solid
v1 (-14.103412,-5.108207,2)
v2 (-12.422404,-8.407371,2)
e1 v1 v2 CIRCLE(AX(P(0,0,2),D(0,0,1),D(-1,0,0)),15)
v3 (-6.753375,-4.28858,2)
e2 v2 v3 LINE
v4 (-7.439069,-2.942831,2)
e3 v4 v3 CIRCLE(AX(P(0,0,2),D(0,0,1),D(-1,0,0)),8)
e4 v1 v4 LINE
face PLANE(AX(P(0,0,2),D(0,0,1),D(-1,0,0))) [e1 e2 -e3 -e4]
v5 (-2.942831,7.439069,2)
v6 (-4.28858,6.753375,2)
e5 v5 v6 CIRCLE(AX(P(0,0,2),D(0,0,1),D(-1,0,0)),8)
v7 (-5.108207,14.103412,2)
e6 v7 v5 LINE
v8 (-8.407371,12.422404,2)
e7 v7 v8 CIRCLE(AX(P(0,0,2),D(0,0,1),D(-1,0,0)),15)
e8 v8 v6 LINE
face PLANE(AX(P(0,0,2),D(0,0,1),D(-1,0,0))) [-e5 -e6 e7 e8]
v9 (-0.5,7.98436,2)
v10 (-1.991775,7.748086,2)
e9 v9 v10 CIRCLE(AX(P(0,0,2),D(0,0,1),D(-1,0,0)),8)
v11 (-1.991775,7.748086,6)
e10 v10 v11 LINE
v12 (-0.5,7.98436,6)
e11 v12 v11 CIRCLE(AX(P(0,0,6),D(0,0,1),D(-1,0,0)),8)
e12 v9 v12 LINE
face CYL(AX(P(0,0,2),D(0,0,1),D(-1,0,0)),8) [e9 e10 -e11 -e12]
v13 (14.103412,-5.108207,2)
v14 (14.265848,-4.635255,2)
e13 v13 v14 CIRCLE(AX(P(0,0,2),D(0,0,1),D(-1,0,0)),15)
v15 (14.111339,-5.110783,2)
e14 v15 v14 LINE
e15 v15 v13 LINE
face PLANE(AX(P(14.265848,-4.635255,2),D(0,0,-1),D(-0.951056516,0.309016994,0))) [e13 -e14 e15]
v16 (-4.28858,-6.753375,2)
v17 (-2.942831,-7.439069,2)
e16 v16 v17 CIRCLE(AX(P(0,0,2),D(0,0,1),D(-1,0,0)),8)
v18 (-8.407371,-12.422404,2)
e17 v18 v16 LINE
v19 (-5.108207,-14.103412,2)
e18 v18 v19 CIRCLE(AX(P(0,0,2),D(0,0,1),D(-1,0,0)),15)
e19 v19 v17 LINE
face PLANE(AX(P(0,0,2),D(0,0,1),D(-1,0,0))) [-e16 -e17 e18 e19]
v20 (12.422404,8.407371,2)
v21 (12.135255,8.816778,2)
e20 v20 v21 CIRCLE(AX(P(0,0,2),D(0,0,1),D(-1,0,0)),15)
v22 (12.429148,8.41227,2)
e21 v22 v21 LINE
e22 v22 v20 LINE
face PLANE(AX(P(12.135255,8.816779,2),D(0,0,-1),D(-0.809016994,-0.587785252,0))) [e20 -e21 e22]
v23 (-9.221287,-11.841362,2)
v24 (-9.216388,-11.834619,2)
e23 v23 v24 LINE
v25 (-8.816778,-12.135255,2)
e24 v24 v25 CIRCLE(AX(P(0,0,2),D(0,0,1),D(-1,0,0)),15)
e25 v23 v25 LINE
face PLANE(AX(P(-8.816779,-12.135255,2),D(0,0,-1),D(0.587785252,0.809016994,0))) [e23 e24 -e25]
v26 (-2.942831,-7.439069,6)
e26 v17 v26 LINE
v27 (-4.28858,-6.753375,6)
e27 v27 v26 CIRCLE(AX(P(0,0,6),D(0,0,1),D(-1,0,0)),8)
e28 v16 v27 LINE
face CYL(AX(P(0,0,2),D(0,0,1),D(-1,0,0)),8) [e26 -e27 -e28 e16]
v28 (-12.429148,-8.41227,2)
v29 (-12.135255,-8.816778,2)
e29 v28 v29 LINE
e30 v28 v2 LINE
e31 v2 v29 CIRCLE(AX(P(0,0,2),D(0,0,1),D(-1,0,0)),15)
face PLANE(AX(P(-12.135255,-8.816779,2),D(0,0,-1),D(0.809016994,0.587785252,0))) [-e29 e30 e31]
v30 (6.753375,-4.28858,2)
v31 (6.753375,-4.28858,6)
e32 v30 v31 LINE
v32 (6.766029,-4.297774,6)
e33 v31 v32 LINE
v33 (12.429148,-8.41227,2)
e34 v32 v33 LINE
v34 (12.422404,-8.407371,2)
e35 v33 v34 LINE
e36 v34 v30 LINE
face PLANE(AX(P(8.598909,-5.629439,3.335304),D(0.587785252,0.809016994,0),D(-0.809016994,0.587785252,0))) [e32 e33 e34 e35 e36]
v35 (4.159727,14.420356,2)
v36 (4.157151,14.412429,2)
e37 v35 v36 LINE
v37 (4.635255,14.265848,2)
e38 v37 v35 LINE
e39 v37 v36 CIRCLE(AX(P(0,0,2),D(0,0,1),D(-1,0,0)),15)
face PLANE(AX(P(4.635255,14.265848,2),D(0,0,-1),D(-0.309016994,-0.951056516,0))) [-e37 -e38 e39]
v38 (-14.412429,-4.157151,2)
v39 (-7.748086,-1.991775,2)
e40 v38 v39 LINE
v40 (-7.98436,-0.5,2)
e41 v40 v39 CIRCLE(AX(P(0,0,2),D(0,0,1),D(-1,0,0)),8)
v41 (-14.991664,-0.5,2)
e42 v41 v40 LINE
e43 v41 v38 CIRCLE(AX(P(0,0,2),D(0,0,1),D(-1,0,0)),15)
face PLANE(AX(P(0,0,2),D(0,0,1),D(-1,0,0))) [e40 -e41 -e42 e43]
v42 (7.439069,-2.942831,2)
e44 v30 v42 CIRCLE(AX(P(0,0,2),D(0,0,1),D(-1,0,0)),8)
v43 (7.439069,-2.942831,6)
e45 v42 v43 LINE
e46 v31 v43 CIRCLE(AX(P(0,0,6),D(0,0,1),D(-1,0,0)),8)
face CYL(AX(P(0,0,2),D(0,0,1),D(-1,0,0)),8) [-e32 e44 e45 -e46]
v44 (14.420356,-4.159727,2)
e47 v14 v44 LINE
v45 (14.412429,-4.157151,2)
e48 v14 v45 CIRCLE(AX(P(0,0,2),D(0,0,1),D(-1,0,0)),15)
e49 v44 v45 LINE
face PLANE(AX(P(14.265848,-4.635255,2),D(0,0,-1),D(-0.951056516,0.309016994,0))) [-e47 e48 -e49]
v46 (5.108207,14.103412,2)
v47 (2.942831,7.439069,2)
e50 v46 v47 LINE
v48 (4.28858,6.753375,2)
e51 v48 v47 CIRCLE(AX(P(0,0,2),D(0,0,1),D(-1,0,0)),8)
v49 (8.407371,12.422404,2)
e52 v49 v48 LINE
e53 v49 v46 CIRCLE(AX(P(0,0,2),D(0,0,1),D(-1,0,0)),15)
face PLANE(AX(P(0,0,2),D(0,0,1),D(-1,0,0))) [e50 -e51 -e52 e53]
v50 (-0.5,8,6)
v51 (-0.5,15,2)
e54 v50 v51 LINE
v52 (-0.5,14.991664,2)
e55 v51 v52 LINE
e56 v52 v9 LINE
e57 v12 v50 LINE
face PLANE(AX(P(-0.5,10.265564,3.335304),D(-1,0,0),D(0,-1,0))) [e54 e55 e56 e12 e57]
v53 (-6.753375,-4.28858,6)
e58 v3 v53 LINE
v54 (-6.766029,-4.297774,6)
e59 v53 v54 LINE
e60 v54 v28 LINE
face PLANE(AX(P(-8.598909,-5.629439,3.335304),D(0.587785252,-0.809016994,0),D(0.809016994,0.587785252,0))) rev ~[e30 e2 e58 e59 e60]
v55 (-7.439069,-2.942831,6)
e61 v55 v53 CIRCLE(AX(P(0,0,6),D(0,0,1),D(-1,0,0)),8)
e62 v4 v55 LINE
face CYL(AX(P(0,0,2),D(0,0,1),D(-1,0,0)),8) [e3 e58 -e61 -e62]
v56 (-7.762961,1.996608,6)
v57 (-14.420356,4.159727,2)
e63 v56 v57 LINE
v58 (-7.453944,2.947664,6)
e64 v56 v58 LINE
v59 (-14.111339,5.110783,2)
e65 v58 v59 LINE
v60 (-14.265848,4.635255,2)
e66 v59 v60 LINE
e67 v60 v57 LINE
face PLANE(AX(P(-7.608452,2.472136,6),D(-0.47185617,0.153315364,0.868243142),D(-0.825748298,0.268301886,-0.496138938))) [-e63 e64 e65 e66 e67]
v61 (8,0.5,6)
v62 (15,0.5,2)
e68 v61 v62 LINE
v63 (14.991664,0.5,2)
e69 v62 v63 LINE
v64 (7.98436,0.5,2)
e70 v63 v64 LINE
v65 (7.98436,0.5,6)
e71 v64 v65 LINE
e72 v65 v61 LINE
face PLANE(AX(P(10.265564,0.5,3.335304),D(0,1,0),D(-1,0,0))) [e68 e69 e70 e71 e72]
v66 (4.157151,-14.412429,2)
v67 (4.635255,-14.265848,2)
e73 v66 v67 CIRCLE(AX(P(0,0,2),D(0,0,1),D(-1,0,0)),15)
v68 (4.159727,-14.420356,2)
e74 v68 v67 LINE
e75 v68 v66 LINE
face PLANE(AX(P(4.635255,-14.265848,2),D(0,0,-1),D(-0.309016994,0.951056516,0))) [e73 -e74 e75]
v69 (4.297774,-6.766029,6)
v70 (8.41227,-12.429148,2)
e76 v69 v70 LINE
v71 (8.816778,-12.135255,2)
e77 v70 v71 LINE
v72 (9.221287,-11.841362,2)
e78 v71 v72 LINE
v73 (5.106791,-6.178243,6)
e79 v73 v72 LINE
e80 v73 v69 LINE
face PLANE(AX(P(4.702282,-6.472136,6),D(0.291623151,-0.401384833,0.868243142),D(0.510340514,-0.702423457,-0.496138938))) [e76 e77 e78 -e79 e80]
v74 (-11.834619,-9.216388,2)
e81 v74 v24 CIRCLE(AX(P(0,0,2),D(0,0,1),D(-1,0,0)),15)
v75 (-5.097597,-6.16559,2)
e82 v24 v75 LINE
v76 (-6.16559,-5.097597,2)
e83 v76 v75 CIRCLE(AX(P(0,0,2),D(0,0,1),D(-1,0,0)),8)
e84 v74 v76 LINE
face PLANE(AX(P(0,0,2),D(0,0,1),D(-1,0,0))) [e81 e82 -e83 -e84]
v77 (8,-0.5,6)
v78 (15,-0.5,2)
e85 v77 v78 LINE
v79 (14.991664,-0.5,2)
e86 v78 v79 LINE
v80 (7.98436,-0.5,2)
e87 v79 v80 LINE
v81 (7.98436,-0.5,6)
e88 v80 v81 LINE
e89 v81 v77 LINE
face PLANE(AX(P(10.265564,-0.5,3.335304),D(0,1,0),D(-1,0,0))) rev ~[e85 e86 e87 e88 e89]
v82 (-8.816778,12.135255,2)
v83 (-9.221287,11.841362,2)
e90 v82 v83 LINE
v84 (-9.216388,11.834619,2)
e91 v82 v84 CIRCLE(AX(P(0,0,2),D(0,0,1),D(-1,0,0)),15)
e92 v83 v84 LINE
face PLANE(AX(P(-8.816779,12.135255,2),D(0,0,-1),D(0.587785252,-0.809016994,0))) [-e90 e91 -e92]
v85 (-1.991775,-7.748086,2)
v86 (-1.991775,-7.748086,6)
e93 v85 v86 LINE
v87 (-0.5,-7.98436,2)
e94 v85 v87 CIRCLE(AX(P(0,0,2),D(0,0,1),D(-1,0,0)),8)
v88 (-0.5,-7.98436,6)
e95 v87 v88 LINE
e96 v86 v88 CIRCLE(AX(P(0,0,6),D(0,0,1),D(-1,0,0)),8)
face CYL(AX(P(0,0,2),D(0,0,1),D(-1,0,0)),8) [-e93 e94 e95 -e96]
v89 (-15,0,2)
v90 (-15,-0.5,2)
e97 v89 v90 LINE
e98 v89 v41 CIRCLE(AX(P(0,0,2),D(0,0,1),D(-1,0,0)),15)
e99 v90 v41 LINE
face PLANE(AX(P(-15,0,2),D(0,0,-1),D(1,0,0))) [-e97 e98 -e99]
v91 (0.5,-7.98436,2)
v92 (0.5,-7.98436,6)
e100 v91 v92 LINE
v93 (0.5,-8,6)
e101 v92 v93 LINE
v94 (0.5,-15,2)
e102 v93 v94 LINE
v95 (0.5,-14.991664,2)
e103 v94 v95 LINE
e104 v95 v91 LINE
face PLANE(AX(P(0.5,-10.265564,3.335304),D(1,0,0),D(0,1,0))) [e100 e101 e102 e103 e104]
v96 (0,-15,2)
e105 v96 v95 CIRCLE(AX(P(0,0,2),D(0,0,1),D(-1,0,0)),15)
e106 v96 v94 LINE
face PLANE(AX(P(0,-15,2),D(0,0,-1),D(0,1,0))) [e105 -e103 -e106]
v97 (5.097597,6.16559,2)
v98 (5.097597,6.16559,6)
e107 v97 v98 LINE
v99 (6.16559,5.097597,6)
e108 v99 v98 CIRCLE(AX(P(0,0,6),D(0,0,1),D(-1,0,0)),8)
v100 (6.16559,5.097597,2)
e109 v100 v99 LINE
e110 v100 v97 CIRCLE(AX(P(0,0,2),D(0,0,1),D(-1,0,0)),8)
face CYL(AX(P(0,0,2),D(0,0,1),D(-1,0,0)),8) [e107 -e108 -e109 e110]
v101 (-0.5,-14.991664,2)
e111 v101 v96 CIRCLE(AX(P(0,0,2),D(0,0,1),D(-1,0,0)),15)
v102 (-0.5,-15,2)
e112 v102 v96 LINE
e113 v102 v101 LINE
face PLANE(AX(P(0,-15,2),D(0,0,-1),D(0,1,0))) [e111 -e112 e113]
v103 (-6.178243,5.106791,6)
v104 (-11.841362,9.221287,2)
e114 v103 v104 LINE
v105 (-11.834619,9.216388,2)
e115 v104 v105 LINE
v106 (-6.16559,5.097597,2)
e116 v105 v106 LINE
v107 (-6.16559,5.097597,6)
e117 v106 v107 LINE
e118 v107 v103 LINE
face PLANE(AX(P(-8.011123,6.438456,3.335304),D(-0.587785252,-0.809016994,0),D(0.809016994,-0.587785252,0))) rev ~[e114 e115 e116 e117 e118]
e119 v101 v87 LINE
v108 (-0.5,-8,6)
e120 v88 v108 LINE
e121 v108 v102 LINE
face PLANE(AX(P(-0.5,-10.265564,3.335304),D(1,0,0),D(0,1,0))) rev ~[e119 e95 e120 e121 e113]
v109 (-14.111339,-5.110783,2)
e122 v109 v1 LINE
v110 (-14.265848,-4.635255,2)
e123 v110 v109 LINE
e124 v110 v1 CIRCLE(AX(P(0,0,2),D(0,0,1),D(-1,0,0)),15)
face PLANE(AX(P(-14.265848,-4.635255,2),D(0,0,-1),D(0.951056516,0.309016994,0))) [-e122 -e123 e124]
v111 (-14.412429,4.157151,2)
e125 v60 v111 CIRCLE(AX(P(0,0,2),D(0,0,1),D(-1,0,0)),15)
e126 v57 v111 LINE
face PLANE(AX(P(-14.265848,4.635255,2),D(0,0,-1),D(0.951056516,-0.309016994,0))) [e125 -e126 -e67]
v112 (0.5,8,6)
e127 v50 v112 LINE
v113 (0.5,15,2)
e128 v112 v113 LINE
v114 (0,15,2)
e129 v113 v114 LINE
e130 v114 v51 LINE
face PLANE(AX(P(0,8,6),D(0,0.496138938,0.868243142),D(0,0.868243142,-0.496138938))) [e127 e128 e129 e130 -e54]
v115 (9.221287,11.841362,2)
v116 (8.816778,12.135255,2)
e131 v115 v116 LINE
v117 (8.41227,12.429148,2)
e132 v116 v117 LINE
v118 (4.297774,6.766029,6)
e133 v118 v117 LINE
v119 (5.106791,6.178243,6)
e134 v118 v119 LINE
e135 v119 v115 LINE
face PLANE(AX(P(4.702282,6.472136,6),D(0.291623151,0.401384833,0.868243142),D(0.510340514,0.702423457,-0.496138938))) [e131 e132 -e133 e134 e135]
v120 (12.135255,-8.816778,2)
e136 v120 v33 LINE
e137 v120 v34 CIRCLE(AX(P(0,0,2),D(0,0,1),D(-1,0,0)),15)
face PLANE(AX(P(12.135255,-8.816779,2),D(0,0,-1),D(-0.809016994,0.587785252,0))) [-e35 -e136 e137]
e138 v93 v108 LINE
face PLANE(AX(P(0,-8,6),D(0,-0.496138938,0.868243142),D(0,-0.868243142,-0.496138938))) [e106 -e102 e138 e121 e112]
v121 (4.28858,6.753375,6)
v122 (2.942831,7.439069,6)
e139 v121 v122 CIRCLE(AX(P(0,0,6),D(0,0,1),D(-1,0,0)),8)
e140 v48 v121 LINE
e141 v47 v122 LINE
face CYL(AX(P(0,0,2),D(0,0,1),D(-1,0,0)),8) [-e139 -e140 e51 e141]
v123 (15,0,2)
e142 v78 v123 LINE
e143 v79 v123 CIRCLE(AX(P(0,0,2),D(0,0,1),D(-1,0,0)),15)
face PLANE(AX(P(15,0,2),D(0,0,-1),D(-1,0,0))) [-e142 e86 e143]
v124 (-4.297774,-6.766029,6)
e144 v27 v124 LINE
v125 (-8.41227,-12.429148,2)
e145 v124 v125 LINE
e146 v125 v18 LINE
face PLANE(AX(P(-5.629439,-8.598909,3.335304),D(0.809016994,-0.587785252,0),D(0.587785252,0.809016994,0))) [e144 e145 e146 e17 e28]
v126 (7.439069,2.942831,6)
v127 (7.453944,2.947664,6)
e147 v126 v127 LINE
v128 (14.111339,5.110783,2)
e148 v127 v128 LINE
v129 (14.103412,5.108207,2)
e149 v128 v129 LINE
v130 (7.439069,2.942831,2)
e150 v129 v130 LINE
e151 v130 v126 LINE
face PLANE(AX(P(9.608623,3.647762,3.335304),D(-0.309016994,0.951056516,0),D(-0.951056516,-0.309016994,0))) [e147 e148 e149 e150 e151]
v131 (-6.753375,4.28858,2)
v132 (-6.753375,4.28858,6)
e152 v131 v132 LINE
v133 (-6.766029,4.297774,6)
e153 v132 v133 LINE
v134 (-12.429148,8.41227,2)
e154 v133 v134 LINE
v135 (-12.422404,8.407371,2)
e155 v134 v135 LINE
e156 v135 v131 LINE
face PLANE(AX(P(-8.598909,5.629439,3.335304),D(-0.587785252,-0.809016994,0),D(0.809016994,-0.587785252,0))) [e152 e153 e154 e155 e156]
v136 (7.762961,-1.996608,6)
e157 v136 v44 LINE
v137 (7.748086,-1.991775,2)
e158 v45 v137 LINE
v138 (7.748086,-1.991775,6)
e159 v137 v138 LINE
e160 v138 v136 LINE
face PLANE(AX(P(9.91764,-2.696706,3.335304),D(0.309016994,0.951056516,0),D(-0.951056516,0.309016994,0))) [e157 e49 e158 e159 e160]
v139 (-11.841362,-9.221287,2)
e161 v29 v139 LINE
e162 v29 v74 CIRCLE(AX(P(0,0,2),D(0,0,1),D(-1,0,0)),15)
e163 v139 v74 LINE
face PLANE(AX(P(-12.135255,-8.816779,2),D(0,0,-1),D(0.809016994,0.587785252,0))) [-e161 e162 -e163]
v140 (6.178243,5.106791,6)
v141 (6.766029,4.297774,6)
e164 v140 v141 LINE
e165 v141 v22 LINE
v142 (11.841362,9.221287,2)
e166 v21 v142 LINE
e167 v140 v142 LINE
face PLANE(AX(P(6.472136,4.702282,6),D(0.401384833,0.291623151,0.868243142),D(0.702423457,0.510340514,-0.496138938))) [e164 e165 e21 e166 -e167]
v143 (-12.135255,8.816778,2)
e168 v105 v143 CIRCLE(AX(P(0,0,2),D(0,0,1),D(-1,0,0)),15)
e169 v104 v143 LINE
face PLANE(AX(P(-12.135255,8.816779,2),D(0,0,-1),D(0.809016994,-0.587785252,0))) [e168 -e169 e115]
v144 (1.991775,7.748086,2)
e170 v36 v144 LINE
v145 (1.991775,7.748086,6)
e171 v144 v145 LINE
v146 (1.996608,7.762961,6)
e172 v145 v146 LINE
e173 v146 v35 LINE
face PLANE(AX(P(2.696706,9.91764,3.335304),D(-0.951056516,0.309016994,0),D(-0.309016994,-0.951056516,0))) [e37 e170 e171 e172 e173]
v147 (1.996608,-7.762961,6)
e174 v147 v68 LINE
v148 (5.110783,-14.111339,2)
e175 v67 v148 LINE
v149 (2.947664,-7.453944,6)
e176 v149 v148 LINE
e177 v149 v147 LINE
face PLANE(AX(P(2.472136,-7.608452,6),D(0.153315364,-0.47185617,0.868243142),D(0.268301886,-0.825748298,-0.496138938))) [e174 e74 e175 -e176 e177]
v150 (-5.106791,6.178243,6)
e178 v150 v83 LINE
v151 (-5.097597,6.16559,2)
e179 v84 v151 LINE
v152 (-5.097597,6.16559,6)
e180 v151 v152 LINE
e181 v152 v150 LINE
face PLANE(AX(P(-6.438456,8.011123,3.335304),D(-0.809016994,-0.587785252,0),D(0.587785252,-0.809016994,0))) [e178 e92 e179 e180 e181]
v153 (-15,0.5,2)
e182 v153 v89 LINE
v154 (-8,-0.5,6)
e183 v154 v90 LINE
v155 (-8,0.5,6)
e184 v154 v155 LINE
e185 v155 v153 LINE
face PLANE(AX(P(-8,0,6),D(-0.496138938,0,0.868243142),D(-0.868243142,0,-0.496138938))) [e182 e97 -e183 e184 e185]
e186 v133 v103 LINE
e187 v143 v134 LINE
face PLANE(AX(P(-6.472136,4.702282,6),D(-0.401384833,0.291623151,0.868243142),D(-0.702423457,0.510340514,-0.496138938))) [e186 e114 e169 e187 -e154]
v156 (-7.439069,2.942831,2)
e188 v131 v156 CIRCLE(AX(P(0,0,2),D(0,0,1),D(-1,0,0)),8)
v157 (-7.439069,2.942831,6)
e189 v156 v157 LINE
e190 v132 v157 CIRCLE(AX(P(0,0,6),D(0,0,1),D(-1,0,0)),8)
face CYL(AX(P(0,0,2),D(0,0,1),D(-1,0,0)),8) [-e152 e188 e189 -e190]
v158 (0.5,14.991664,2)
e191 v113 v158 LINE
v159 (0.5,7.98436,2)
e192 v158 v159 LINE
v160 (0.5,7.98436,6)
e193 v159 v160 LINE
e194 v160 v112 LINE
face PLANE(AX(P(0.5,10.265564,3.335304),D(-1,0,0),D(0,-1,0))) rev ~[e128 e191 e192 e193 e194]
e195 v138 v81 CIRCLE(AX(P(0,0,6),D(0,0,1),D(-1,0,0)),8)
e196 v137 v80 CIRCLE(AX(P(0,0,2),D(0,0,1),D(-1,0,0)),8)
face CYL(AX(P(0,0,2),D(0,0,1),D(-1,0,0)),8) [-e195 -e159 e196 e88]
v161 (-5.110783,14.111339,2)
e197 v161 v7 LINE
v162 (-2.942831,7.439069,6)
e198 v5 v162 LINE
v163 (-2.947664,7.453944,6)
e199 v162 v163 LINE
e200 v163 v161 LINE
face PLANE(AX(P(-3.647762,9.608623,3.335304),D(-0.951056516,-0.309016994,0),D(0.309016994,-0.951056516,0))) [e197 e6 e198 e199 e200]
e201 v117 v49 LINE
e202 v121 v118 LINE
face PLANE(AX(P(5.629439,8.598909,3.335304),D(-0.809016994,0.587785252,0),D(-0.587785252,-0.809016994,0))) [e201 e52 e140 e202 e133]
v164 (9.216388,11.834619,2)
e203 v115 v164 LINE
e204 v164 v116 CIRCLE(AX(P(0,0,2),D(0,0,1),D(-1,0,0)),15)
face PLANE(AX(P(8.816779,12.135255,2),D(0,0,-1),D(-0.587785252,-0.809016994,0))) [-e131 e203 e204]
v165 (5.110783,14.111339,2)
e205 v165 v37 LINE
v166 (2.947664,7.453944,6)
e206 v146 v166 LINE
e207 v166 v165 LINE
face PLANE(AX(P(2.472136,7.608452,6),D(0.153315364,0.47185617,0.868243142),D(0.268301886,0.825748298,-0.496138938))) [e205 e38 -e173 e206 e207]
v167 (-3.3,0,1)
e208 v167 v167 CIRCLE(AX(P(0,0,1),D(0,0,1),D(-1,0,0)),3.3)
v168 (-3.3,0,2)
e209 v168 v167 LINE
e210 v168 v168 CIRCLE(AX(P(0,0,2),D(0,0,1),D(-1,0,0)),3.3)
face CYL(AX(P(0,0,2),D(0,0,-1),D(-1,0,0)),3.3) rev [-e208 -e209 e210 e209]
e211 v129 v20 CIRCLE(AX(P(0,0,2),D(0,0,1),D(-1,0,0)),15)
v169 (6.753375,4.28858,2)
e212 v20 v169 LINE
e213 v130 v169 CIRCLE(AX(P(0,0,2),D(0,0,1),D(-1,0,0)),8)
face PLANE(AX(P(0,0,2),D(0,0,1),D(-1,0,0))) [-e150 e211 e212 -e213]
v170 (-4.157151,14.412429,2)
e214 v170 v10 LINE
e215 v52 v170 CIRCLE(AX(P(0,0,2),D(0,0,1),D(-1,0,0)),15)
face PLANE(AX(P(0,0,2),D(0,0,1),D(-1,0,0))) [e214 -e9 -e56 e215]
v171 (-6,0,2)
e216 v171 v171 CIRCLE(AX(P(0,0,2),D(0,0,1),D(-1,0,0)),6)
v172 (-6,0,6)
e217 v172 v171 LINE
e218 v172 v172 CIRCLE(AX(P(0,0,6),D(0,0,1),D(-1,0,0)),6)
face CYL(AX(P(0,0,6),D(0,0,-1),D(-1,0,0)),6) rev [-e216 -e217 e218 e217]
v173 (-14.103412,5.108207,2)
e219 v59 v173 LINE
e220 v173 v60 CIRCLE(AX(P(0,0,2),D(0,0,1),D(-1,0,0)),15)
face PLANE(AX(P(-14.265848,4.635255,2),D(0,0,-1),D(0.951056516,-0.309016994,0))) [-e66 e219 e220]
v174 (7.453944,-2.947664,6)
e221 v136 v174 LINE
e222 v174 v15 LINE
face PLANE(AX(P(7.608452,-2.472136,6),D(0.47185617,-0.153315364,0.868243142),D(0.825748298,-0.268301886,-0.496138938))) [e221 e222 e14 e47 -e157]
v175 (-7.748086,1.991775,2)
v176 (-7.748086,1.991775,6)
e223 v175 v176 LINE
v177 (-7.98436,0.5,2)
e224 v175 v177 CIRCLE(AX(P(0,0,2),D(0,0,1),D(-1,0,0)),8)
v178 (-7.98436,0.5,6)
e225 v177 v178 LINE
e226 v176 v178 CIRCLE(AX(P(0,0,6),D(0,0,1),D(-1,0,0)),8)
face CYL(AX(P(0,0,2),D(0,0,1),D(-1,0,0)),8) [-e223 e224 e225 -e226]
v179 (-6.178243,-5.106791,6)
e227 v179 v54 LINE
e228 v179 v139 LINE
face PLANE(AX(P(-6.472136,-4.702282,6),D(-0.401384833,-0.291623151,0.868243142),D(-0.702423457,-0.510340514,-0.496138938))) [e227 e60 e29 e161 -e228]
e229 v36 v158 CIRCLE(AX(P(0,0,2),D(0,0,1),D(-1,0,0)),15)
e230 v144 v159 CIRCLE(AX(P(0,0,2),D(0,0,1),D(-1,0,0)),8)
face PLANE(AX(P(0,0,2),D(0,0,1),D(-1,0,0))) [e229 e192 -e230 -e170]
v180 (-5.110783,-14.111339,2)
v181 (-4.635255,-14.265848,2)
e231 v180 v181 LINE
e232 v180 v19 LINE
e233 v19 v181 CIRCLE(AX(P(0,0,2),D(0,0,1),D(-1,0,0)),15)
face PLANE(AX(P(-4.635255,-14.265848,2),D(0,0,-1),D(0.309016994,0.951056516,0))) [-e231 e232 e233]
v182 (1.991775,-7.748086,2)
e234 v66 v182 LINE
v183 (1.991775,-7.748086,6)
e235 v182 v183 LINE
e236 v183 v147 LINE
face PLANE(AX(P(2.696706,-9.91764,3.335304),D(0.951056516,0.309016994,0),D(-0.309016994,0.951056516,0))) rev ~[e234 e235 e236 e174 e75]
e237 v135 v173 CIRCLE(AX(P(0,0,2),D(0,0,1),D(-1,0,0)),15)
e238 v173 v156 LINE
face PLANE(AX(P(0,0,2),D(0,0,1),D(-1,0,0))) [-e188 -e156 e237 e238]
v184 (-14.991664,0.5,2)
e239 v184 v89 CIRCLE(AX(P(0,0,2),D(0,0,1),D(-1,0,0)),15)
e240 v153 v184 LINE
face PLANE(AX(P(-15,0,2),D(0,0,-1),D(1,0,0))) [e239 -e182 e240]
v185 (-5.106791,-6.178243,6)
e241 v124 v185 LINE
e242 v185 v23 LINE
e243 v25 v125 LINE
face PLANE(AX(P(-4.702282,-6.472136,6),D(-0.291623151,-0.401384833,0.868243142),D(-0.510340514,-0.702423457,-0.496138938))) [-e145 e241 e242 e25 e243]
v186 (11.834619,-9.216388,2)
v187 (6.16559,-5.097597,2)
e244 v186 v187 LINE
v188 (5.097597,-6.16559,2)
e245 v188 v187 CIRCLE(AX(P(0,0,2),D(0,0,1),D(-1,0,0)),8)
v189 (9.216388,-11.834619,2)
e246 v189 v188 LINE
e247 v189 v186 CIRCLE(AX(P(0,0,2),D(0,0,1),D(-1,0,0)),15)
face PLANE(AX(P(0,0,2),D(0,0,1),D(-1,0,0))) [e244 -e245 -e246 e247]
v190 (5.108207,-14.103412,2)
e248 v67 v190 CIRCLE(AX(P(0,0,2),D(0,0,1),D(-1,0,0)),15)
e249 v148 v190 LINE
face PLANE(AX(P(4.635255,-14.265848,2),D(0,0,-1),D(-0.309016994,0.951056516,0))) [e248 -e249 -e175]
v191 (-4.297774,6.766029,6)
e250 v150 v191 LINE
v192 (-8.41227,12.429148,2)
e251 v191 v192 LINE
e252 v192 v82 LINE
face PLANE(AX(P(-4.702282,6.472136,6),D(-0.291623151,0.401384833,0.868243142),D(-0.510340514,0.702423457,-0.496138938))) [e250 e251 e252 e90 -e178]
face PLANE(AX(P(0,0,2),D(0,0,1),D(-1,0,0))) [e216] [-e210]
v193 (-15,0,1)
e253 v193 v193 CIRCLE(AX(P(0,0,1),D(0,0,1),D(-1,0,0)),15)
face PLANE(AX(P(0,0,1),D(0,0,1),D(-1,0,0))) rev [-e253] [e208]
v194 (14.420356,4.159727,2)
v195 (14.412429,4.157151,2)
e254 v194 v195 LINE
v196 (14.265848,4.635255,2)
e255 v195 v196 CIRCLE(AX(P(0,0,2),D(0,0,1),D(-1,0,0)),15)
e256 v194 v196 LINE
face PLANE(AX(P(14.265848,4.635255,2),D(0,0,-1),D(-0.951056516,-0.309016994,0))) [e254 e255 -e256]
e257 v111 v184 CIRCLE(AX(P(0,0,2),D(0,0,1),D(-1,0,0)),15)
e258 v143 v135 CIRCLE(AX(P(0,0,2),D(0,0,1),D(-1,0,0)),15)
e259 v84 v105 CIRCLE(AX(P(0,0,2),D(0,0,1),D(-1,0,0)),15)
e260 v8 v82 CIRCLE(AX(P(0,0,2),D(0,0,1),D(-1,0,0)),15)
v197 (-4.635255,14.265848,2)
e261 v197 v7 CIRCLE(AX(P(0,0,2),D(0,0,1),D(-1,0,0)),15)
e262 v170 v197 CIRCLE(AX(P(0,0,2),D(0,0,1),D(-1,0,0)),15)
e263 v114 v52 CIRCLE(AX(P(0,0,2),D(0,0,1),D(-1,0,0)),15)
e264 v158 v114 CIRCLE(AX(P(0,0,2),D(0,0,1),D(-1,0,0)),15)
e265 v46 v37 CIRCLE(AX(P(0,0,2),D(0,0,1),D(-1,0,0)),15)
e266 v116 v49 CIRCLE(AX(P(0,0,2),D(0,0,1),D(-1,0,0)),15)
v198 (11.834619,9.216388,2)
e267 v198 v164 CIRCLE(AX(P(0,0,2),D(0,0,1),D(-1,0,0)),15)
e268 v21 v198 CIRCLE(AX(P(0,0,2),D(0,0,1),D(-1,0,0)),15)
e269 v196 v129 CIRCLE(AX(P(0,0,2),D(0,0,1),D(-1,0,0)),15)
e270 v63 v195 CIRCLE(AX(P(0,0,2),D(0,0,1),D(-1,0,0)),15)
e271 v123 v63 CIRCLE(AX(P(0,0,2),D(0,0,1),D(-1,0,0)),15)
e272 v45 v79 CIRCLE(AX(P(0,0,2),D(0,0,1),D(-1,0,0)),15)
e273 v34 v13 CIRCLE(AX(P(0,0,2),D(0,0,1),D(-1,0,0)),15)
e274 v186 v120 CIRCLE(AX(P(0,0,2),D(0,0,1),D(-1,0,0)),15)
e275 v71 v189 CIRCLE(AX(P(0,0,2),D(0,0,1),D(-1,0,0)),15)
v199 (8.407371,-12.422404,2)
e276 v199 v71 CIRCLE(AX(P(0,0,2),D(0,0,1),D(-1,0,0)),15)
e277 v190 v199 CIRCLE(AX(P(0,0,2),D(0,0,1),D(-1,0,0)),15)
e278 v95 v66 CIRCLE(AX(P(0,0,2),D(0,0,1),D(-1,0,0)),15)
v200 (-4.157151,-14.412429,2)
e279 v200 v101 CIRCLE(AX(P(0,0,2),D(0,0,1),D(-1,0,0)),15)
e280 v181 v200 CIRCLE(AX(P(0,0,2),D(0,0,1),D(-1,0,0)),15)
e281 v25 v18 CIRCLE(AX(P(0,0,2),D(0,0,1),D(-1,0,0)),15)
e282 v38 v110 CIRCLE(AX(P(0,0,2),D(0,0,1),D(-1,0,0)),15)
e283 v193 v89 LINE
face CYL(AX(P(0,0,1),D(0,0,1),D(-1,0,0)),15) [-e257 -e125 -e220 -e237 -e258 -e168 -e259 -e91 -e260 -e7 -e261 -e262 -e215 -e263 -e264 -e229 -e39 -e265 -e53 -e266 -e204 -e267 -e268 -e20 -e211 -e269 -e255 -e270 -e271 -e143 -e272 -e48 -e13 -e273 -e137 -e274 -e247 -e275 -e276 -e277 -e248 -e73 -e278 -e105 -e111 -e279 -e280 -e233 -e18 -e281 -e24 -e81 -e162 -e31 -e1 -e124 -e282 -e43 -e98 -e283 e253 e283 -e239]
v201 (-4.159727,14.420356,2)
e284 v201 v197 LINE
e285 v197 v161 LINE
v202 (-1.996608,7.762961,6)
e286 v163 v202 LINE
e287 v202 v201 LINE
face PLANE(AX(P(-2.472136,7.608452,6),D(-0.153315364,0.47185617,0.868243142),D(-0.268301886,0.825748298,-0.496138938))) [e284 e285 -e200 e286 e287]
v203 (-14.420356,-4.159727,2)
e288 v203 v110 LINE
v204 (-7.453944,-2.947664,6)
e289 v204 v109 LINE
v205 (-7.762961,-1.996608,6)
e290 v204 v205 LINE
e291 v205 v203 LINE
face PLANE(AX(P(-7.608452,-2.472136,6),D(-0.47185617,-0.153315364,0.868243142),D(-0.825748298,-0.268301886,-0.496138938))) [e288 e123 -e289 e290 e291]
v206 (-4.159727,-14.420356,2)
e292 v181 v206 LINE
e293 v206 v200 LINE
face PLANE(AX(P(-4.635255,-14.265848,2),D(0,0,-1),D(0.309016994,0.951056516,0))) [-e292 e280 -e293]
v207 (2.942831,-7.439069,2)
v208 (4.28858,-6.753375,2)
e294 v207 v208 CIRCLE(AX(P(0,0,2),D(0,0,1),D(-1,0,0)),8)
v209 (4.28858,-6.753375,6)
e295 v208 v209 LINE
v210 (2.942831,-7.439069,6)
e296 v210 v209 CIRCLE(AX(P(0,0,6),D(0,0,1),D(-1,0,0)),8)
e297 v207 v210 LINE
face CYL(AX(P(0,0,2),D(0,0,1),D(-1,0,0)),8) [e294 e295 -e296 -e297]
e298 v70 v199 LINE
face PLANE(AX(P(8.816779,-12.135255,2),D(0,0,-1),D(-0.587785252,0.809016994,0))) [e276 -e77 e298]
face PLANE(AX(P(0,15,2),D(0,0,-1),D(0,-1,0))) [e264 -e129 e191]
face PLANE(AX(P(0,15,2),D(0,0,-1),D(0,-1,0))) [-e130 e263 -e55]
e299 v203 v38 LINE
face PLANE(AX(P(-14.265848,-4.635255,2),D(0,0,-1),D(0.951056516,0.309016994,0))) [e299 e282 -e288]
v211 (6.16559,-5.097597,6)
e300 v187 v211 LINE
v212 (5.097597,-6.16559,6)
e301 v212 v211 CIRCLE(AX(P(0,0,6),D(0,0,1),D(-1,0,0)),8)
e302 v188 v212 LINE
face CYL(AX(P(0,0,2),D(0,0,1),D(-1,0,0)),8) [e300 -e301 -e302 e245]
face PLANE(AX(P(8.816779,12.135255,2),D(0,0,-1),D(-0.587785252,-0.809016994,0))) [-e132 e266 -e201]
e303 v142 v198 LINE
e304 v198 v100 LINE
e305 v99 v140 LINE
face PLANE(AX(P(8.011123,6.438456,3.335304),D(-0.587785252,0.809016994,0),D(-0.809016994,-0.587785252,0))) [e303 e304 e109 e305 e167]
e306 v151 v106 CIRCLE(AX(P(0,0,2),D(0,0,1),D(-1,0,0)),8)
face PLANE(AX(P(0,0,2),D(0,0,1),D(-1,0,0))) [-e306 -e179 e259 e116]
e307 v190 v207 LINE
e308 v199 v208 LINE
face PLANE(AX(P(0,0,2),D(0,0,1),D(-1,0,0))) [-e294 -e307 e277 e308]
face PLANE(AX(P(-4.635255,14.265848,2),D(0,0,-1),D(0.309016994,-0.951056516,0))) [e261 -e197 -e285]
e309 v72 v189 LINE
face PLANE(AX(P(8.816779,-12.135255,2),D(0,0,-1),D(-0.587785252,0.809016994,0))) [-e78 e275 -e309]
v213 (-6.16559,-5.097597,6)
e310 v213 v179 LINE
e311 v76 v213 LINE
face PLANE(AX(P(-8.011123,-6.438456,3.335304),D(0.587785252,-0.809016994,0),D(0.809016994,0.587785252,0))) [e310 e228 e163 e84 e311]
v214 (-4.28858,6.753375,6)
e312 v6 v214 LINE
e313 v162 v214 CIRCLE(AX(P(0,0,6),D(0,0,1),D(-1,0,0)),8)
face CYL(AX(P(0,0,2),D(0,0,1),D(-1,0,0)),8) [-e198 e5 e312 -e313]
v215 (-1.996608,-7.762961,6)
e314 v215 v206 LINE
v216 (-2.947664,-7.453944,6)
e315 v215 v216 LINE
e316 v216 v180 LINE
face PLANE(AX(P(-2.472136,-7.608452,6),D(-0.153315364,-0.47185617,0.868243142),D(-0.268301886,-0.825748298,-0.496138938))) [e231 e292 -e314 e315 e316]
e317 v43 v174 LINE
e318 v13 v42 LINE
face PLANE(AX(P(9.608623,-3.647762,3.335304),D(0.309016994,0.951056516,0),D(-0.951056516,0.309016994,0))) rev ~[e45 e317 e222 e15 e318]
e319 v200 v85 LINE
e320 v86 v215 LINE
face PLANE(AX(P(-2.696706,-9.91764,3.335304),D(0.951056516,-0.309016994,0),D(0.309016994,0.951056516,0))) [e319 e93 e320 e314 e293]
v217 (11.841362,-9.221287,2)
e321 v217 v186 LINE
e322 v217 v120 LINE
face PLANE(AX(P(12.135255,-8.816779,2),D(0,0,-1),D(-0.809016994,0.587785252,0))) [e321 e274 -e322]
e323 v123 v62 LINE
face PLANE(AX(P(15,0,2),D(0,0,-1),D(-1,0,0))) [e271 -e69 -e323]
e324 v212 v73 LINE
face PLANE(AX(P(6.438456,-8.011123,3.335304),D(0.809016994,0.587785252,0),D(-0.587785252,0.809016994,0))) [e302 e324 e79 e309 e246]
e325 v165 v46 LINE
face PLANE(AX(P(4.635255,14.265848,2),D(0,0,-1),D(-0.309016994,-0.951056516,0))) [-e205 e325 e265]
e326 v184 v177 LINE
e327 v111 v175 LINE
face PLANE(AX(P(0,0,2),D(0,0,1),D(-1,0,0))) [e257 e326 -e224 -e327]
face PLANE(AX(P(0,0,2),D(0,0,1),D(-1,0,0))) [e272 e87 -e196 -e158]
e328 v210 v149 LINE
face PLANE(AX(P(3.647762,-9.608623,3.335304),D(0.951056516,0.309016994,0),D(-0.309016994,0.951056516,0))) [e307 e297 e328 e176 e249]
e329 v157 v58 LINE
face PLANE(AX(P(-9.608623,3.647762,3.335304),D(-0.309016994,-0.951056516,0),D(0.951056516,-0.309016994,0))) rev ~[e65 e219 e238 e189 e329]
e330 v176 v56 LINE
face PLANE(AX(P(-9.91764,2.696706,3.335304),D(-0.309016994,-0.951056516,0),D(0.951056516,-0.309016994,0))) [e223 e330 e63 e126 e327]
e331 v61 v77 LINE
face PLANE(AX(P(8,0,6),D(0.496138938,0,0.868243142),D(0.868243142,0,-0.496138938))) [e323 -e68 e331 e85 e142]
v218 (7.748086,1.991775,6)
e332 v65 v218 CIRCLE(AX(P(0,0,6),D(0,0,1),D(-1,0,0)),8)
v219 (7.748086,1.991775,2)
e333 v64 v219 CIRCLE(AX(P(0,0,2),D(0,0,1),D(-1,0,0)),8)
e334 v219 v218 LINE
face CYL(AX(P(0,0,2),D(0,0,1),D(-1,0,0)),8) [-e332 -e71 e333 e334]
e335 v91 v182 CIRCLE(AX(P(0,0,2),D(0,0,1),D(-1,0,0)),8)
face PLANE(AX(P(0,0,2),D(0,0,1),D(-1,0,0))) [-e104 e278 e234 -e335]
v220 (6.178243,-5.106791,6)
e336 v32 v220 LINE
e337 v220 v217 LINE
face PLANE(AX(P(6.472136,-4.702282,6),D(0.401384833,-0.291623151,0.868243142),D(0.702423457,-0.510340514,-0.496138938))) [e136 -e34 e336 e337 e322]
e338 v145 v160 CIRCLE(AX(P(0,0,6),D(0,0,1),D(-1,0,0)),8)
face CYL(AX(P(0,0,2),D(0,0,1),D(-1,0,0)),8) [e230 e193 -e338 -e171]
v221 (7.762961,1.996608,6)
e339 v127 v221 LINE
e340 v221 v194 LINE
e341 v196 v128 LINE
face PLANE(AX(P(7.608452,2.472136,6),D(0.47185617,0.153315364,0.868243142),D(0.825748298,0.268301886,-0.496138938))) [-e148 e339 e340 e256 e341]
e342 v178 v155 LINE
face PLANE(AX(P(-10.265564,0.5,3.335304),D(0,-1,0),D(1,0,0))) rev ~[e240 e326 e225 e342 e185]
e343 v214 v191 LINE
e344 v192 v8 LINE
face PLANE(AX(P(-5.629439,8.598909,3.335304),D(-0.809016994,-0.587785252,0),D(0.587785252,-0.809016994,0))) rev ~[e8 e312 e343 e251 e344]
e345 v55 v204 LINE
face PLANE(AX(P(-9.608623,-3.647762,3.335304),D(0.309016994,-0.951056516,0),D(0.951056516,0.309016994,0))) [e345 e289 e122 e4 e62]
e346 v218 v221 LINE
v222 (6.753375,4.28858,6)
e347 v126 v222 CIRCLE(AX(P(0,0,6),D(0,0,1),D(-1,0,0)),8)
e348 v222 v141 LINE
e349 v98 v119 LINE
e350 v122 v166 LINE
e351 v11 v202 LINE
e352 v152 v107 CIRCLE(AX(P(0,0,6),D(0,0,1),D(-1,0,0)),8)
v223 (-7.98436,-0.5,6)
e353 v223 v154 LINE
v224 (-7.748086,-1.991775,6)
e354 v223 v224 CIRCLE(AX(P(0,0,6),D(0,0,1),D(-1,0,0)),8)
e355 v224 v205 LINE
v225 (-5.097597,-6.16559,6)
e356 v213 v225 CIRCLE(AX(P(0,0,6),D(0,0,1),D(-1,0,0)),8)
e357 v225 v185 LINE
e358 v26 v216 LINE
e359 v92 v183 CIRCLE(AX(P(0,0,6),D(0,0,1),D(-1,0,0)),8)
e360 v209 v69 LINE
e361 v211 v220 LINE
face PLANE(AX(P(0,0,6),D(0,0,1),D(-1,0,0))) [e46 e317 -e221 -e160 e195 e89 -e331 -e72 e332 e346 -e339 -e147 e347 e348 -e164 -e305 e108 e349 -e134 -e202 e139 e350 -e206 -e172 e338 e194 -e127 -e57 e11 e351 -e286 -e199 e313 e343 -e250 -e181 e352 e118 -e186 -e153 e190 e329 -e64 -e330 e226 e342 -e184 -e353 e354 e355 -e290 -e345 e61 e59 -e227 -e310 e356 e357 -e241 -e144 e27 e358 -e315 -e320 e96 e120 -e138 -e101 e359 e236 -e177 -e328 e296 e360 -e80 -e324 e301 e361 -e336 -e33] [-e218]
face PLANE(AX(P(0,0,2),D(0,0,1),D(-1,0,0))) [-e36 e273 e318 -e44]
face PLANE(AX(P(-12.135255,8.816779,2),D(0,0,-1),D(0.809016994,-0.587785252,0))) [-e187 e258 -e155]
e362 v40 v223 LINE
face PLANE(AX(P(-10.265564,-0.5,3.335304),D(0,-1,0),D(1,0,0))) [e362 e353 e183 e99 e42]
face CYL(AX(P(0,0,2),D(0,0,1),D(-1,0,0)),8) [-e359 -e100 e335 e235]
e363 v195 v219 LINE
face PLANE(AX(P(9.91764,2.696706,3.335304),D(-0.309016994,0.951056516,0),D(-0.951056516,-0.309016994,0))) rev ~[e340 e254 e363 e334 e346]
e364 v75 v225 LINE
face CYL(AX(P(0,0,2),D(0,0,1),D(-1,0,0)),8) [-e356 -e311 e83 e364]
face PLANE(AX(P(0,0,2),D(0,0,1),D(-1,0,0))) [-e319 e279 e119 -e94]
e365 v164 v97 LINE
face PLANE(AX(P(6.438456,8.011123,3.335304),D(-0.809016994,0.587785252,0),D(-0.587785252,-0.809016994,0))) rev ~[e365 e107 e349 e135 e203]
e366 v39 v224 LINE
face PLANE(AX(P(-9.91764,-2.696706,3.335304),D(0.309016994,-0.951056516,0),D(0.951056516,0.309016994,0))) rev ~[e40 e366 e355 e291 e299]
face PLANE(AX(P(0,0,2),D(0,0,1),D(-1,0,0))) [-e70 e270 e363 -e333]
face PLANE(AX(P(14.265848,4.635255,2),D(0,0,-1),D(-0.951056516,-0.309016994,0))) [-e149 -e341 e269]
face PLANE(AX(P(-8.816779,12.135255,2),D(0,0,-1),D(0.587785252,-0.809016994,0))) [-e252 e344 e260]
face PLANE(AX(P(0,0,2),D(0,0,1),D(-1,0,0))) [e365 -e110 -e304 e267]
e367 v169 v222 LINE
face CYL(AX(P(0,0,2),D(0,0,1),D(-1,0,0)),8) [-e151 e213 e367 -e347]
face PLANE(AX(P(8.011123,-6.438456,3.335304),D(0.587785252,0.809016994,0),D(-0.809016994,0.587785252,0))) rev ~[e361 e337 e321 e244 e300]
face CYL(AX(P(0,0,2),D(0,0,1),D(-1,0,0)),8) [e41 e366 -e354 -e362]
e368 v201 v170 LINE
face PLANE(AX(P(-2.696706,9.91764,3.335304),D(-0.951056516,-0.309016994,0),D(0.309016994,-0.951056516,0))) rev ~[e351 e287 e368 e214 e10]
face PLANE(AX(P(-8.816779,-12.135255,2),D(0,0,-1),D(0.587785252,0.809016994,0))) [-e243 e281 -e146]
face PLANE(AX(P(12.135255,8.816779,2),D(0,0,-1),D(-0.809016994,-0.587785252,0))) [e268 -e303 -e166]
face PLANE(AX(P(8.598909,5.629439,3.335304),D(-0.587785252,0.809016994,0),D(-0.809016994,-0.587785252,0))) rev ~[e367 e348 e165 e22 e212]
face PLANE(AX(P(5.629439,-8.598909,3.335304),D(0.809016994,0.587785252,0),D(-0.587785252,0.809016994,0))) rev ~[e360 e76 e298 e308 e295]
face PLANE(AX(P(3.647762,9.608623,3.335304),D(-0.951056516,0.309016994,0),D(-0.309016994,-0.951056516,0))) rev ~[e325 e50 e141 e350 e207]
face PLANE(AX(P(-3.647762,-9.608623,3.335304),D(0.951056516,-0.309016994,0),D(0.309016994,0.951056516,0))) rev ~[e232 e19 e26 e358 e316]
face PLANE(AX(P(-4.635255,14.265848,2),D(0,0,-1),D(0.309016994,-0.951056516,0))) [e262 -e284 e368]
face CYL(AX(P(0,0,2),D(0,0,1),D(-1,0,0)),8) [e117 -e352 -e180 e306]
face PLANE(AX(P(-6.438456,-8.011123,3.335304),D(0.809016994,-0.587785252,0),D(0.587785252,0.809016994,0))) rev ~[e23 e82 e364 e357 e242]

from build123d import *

# Parameters (mm, degrees)
EXTRUDE016_DEPTH = 0.5
ARRAY_COUNT      = 20


with BuildPart() as revolve003:
    # Sketch022 → Revolve003 (revolve)
    with BuildSketch(Plane.XZ):
        Polygon((-3.3, 1), (-15, 1), (-15, 2), (-8, 2), (-8, 6), (-6, 6), (-6, 2), (-3.3, 2), align=None)
    revolve(axis=Axis((0, 0, 0), (0, 0, 1)))


with BuildPart() as barrel003:
    # Sketch023 → Extrude016 (new body, symmetric)
    with BuildSketch(Plane.XZ):
        Polygon((-8, 6), (-15, 2), (-7, 2), (-7, 6), align=None)
    extrude(amount=EXTRUDE016_DEPTH, both=True)

    # Array: barrel003 ×20 about axis
    array_axis = Axis((0, 0, 0), (0, 0, 1))


with BuildPart() as barrel003_1:
    add(barrel003.part)
    for i in range(1, ARRAY_COUNT):
        add(barrel003.part.rotate(array_axis, i * 360 / ARRAY_COUNT))

    # Fusion005: union Revolve003
    add(revolve003.part)


solid = barrel003_1.part
